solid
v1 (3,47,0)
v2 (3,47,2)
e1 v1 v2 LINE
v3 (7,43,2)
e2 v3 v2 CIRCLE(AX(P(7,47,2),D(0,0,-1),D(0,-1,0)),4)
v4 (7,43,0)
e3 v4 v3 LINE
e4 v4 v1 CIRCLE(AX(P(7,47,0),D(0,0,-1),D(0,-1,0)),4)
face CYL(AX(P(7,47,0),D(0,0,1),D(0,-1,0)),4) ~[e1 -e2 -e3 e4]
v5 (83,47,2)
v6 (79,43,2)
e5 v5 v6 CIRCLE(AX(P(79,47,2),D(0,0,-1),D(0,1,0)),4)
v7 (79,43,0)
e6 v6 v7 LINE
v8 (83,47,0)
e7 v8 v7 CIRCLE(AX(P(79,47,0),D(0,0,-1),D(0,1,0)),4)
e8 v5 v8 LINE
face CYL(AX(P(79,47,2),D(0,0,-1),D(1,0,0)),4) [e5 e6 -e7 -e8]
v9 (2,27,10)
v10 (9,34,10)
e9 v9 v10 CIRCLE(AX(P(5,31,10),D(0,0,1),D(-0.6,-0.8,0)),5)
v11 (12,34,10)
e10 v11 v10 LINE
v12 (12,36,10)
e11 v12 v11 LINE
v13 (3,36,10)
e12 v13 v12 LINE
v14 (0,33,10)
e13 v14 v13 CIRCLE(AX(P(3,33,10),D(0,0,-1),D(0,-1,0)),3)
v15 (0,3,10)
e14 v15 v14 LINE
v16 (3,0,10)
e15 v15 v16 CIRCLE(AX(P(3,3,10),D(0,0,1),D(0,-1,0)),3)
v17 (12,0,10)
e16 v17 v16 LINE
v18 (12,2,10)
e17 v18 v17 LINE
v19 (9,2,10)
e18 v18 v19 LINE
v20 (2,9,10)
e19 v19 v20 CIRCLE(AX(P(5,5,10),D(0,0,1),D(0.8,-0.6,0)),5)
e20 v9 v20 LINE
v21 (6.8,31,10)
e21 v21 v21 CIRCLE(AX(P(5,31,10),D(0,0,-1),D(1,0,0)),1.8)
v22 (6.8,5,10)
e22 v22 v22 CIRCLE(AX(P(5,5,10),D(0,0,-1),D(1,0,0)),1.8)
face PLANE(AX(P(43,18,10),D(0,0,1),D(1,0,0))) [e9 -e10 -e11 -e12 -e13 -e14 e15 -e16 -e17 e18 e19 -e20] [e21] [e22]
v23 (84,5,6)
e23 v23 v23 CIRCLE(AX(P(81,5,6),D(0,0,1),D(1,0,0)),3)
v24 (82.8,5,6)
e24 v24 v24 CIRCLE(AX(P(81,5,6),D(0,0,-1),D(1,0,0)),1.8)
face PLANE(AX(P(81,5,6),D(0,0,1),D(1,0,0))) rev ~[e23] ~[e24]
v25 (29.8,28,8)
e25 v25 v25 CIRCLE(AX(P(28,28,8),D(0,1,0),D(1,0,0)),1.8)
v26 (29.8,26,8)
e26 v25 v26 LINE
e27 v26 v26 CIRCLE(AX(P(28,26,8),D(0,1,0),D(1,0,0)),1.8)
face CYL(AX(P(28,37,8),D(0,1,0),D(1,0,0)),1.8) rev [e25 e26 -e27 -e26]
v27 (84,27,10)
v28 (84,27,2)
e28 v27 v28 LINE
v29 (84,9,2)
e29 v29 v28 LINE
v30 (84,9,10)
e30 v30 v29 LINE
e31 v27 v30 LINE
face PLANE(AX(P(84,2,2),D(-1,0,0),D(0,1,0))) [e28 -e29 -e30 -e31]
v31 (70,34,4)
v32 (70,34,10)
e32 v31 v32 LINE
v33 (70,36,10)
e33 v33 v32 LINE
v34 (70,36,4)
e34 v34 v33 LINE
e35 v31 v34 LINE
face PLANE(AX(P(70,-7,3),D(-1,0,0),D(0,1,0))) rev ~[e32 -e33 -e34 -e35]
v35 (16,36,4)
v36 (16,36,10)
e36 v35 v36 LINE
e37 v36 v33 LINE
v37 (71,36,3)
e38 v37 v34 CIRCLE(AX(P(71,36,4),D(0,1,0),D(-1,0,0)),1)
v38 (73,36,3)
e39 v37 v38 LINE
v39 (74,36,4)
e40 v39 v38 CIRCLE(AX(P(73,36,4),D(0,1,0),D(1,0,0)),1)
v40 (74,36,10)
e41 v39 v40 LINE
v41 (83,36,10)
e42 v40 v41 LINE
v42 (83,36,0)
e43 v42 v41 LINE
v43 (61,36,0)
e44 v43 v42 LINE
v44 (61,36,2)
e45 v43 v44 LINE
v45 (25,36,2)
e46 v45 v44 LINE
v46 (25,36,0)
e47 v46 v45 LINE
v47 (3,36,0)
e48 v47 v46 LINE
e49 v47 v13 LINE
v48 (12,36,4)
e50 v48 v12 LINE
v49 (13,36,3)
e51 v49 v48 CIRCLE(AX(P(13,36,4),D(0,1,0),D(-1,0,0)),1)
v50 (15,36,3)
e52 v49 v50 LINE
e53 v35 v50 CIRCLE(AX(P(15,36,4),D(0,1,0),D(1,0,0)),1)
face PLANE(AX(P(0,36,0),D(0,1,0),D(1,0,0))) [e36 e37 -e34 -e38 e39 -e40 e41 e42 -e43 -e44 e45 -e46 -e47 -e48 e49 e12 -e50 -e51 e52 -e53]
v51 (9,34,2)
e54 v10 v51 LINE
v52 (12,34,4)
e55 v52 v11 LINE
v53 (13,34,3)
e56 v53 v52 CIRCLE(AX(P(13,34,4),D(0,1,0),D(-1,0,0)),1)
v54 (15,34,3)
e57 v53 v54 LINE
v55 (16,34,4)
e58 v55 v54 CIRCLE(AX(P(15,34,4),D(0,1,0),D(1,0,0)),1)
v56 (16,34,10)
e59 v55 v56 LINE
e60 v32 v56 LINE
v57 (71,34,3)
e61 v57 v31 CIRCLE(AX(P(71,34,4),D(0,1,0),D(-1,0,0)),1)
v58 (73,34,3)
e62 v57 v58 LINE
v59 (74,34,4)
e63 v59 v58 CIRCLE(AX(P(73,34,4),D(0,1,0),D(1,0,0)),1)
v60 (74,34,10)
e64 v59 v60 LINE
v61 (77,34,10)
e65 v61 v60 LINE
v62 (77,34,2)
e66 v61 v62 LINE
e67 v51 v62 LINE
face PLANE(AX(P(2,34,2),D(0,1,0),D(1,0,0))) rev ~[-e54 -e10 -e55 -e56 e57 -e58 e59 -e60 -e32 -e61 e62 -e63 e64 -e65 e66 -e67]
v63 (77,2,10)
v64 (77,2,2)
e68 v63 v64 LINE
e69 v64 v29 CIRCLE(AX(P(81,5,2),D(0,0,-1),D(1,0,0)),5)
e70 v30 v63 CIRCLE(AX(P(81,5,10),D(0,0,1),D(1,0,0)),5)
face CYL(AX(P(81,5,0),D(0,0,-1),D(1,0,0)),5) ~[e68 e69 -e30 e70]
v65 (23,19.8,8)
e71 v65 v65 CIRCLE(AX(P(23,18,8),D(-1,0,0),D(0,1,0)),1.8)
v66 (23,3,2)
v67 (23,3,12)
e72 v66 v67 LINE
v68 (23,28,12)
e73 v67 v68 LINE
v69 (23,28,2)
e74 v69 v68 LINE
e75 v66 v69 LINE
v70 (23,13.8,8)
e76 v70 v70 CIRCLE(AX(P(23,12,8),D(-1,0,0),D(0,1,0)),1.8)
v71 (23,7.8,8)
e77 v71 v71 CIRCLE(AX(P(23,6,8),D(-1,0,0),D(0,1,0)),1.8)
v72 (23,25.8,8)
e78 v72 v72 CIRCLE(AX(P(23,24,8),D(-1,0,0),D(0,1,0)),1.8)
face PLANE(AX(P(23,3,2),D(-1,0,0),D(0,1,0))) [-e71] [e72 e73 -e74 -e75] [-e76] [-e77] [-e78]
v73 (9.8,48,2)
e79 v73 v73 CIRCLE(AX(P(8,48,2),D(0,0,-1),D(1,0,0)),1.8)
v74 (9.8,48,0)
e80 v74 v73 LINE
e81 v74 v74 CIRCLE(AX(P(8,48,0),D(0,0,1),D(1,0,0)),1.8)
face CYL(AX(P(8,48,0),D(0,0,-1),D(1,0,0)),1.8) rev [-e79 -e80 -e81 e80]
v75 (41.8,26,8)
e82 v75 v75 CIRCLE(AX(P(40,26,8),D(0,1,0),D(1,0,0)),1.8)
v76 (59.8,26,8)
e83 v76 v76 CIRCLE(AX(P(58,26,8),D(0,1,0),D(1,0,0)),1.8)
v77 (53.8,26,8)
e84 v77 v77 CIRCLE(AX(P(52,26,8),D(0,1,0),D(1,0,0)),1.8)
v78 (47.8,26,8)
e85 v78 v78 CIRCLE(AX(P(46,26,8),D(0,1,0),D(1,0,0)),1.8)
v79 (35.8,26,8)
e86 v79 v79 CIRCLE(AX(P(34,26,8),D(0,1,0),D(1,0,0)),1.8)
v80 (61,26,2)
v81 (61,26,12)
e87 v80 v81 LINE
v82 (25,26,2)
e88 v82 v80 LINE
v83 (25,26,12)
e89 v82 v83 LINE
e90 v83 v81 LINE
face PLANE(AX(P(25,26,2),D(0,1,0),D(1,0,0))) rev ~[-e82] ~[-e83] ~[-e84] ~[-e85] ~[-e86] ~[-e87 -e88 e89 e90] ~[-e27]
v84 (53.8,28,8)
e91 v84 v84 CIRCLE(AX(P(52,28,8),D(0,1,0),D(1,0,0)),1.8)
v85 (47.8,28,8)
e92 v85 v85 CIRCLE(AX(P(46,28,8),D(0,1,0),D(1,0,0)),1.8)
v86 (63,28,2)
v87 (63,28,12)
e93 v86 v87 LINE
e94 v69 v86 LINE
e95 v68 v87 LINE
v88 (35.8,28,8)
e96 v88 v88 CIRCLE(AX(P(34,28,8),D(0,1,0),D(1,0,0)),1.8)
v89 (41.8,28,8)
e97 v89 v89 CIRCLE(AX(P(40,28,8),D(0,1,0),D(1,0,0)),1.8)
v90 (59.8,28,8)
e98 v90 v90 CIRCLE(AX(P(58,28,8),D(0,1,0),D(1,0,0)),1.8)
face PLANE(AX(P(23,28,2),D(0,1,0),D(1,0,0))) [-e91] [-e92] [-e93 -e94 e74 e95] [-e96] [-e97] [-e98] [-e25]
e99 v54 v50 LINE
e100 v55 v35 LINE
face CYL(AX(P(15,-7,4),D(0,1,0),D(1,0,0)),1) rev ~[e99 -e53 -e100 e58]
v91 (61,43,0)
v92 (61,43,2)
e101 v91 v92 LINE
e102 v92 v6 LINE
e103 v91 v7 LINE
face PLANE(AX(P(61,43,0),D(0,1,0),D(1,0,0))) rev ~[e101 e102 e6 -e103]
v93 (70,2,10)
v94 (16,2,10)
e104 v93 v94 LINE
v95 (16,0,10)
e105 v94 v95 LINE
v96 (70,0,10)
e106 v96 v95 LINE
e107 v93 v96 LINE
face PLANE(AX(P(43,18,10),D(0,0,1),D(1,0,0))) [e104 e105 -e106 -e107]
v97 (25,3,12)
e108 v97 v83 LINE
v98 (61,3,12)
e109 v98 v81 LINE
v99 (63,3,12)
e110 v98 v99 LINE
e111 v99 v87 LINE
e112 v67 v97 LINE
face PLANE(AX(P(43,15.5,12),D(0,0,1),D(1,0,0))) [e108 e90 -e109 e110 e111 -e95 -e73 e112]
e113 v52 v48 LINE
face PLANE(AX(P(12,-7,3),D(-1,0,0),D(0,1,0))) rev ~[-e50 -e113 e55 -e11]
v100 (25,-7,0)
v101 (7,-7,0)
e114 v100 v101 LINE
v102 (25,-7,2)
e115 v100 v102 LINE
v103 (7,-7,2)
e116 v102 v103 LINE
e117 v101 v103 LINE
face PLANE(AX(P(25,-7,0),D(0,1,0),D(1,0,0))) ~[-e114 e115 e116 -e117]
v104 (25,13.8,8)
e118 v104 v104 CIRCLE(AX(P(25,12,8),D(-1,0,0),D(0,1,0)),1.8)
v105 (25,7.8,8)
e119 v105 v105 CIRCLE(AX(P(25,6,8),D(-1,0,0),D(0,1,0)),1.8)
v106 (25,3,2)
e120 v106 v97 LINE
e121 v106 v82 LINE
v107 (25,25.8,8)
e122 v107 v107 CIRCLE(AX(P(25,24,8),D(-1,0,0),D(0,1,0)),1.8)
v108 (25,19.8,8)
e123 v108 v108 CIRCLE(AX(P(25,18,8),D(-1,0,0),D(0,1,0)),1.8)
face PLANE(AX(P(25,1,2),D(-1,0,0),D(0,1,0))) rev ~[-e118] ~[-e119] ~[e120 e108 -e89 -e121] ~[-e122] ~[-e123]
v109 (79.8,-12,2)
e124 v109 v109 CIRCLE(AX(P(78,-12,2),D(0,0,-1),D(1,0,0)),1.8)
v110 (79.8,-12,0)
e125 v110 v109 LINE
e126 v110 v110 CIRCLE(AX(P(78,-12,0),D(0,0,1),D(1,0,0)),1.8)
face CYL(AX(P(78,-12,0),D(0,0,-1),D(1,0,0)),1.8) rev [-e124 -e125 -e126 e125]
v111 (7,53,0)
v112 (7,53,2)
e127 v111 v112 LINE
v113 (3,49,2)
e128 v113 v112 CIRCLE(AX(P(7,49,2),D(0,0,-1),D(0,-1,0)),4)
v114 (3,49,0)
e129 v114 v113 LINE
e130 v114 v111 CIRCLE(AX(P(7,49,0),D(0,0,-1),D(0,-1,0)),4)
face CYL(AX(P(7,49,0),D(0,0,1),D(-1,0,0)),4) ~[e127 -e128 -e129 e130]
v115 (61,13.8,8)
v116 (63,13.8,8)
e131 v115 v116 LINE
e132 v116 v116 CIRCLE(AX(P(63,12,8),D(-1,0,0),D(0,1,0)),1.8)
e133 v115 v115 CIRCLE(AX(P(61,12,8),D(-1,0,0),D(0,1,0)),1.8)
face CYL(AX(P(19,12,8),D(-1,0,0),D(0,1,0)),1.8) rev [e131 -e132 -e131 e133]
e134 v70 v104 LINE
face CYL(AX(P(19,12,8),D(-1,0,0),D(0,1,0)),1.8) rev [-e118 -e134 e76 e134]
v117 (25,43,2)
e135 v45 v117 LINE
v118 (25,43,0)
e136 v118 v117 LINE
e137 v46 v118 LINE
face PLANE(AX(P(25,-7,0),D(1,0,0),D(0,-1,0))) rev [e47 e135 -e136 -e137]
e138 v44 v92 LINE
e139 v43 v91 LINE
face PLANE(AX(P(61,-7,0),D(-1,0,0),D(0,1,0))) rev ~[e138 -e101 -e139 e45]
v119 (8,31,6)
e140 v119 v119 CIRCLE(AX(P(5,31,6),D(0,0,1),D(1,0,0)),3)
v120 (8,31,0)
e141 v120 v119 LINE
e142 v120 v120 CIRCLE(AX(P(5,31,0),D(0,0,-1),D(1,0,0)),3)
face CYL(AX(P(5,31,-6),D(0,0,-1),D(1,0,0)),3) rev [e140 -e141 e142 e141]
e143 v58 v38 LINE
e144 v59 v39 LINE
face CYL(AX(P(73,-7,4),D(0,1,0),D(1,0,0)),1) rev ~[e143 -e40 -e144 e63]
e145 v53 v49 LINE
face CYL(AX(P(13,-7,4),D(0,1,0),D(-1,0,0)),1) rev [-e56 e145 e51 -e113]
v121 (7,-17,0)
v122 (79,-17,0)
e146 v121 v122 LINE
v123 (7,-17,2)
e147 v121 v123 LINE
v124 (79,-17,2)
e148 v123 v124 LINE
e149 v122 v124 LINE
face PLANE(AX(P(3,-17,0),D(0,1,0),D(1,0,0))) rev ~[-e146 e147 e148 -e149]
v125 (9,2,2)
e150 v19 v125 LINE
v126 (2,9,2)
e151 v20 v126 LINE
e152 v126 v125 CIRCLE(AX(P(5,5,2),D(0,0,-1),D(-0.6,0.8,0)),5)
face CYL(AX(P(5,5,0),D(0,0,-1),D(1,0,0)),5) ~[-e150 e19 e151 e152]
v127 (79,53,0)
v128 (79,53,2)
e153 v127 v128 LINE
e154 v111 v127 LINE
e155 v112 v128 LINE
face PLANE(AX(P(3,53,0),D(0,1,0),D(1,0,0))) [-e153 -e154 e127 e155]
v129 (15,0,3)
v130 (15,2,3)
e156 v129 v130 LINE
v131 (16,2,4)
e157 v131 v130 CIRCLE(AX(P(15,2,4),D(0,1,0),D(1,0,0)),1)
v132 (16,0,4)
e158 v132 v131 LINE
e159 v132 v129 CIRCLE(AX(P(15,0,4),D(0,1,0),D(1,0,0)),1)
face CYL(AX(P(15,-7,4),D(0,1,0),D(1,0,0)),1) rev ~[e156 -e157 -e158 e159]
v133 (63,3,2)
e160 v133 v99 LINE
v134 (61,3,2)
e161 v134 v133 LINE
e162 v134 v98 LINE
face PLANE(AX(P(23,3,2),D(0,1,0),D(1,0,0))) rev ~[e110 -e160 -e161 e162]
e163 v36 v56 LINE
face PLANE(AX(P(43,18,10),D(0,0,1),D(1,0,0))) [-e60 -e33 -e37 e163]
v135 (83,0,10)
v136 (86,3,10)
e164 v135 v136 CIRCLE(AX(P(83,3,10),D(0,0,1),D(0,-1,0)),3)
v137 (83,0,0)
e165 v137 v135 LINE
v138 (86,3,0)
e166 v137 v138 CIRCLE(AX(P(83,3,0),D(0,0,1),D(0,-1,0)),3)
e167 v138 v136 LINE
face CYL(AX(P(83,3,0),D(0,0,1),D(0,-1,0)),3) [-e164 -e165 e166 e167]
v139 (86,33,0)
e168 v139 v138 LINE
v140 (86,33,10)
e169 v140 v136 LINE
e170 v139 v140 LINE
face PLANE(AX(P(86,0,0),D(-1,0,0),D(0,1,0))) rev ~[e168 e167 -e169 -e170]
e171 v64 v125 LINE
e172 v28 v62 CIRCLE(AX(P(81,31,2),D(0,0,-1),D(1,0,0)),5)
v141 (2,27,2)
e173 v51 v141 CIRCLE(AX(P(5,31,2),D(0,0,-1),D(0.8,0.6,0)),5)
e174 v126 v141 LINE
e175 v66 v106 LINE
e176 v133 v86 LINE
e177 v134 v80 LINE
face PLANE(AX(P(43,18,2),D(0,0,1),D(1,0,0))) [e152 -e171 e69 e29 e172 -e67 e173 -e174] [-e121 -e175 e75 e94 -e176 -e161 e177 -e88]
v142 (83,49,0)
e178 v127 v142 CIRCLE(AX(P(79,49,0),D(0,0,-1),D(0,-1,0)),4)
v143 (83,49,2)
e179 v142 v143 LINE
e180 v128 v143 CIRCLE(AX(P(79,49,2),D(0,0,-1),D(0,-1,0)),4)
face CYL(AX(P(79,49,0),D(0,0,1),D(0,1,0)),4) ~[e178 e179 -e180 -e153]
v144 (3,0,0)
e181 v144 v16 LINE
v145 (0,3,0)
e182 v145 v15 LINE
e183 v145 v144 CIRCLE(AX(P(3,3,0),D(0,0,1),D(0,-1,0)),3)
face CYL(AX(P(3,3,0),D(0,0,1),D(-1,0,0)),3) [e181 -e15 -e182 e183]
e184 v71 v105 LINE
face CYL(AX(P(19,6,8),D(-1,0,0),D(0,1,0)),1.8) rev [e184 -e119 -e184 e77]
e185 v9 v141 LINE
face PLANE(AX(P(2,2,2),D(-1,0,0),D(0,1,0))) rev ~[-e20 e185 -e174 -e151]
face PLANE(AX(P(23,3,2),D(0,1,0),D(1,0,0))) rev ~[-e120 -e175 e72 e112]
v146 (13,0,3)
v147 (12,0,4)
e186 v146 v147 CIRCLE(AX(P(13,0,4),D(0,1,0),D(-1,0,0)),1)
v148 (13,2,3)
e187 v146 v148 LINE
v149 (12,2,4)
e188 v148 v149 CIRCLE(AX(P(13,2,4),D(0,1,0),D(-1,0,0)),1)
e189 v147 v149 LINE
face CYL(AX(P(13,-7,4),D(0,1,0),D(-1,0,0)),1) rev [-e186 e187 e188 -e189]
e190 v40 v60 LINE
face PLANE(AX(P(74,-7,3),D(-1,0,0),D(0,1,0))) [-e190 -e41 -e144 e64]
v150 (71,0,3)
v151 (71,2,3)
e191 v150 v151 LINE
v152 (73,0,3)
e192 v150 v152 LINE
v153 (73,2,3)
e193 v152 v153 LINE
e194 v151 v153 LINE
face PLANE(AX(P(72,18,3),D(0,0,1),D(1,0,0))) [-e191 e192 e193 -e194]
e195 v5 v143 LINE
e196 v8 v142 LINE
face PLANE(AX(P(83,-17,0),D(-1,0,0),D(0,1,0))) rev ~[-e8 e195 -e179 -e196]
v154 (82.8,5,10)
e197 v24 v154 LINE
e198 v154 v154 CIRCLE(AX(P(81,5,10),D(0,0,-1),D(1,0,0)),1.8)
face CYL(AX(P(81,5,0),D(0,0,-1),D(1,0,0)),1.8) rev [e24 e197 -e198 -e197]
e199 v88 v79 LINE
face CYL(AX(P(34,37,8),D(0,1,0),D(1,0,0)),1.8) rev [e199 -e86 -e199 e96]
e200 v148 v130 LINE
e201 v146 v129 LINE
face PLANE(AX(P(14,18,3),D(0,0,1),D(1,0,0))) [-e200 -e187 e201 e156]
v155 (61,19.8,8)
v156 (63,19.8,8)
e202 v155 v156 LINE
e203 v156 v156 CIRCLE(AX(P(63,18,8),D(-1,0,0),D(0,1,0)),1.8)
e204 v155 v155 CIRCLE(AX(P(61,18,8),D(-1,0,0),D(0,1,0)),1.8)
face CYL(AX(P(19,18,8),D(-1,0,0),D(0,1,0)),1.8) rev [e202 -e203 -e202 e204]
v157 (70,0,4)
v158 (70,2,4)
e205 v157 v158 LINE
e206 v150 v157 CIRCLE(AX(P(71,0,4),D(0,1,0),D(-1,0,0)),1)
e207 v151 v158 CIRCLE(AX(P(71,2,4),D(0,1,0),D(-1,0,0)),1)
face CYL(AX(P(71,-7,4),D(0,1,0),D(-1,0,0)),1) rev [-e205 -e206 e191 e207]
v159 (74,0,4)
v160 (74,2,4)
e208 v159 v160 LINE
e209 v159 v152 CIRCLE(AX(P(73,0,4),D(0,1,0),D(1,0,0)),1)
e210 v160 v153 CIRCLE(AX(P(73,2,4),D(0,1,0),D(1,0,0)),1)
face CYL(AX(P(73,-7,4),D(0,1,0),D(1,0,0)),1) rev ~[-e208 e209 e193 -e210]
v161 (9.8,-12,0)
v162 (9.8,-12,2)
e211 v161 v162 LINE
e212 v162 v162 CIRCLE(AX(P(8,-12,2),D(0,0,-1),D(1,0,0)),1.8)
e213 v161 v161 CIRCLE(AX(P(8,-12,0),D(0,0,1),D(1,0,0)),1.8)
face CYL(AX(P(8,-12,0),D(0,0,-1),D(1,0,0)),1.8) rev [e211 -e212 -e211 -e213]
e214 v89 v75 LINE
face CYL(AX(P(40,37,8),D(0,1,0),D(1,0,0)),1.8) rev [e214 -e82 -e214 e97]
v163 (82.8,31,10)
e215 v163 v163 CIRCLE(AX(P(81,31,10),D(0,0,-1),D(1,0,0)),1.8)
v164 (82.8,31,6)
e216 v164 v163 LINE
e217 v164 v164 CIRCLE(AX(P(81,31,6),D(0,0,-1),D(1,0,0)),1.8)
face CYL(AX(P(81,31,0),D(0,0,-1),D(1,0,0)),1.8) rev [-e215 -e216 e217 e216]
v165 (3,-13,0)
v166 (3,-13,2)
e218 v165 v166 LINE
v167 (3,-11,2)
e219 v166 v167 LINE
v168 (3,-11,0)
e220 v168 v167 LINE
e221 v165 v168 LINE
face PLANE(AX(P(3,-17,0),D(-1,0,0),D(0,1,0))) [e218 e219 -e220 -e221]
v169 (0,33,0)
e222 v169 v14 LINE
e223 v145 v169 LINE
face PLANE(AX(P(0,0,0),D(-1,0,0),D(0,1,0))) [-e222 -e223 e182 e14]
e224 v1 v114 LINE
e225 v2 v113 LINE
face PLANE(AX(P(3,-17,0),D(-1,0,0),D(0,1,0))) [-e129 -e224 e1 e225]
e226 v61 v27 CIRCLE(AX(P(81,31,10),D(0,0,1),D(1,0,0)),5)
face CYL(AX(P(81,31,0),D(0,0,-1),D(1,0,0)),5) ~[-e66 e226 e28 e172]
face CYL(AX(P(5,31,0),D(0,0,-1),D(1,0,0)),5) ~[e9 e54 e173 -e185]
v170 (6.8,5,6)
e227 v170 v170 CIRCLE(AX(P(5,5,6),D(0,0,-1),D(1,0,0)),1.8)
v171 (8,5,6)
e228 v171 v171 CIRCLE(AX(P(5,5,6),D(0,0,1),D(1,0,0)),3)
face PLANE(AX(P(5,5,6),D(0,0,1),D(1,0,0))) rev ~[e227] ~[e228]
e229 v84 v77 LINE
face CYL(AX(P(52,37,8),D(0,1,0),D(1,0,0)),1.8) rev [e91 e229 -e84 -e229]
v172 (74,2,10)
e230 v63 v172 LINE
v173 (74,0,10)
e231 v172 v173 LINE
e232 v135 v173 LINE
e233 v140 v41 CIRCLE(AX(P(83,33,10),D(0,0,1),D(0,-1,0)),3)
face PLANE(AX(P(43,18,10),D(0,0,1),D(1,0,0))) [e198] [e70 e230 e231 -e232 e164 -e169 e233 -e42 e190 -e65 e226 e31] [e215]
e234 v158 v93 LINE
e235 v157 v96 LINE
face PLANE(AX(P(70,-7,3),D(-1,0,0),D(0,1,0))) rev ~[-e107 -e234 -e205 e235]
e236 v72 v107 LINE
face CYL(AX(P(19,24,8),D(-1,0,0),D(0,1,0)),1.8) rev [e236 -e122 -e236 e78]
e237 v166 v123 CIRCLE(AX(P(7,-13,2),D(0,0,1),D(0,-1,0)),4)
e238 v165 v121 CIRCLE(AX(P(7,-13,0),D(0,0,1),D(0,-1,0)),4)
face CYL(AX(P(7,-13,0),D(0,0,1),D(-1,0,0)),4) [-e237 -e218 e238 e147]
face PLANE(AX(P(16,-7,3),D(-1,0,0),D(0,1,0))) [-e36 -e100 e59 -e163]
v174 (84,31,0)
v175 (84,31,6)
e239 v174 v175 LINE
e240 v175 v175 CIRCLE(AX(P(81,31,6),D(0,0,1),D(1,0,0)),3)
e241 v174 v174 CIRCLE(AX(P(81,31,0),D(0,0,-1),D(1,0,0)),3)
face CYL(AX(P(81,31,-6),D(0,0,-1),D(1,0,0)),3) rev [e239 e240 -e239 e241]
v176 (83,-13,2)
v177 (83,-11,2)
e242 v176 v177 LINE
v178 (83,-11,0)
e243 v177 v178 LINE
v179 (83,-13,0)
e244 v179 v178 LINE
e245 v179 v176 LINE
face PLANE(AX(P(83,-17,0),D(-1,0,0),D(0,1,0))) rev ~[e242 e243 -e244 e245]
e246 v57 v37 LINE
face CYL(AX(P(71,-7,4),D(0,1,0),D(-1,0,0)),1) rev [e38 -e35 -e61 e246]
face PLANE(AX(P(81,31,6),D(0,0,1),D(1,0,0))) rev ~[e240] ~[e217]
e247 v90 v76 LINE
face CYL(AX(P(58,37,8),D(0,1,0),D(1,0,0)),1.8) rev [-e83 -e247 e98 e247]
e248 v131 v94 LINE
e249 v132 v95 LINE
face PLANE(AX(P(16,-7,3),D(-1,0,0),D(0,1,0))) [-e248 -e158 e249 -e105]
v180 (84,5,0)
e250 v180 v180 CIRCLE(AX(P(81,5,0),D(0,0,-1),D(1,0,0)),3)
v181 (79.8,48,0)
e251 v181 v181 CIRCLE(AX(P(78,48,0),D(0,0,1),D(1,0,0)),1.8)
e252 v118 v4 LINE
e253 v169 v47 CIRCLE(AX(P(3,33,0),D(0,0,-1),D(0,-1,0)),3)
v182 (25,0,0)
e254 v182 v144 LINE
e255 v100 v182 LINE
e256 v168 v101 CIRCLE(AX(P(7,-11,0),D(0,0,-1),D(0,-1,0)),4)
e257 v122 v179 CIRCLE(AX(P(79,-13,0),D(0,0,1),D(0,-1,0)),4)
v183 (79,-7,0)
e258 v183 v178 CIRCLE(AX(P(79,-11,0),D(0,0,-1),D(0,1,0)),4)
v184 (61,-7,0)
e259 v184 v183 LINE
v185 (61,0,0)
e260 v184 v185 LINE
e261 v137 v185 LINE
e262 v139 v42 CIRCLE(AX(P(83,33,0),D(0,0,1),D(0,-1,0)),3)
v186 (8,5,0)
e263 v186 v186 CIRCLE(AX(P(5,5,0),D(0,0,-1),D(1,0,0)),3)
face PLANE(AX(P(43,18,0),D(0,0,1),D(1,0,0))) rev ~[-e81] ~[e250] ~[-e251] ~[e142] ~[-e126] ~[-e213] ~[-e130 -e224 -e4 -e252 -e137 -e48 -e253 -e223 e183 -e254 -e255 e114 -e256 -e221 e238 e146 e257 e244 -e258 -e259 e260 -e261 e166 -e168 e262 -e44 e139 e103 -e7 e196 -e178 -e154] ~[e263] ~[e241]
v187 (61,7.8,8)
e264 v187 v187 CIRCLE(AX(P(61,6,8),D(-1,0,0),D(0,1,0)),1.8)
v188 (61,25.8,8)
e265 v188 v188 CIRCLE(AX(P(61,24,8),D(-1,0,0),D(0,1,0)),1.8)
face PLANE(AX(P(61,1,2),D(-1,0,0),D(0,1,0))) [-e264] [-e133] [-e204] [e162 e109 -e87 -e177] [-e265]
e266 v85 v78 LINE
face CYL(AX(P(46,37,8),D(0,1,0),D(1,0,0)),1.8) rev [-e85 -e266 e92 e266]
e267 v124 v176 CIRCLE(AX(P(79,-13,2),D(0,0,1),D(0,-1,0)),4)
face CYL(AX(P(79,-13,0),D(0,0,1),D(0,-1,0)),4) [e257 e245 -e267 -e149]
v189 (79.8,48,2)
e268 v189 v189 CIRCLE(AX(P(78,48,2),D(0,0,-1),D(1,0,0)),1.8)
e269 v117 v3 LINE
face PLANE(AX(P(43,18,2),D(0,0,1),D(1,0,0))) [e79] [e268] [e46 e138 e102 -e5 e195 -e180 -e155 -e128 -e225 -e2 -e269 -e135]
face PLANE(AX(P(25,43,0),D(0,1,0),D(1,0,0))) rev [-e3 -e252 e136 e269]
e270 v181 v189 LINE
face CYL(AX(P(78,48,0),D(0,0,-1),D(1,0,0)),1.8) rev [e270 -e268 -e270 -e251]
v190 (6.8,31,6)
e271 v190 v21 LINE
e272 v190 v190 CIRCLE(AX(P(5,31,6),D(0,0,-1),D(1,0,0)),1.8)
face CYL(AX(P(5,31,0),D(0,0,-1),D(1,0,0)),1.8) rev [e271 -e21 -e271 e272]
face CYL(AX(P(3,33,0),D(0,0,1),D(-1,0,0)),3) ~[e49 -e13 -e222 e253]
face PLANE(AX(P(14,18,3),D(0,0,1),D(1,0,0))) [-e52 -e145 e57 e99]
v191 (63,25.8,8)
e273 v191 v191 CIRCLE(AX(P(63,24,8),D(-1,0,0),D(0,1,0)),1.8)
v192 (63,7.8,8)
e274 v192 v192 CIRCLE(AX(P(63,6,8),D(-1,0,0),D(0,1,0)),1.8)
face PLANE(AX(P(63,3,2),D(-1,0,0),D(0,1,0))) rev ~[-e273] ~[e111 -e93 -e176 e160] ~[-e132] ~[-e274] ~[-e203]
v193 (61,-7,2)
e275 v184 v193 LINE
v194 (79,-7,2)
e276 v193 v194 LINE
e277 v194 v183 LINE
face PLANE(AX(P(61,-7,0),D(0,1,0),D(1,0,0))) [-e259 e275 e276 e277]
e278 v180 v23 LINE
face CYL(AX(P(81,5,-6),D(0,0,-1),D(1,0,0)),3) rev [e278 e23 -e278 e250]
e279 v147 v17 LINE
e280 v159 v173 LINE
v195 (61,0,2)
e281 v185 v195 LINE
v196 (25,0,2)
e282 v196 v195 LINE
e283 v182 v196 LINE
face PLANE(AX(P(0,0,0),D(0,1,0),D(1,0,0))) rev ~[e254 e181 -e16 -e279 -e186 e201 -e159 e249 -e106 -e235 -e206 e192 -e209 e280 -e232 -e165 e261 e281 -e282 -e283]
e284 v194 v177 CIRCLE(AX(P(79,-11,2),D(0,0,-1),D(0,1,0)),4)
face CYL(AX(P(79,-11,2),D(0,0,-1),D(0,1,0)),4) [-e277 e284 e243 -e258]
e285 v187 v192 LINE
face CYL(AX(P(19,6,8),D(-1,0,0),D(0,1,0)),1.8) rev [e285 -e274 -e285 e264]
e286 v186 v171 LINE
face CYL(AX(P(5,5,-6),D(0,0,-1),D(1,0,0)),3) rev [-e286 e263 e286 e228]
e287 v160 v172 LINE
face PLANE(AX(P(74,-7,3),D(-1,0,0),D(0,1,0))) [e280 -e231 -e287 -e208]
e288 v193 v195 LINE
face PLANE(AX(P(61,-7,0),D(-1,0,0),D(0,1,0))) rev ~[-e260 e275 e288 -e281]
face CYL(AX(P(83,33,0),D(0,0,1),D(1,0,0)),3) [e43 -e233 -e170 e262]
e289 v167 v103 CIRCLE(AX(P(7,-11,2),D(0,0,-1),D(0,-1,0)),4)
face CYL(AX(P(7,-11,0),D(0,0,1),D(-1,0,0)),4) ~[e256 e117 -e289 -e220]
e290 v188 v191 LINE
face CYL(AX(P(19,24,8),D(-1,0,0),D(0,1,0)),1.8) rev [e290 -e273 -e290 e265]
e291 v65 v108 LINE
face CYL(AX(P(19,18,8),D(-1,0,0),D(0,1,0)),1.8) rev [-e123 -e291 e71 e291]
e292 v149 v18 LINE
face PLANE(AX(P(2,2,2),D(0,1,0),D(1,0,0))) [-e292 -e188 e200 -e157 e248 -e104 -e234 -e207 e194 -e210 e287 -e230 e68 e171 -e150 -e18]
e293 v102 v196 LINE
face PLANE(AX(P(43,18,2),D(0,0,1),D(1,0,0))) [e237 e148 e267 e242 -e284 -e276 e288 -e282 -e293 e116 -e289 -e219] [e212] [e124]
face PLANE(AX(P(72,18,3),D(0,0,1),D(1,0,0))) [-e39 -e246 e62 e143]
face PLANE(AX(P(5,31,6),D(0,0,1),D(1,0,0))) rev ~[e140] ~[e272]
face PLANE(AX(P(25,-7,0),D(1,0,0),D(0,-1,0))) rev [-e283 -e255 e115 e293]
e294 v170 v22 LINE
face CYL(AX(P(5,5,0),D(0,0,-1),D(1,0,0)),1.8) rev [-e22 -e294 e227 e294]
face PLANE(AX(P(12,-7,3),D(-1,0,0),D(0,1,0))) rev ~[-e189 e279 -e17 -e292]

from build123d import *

# Parameters (mm, degrees)
CYLINDER062_R       = 1.8
CYLINDER062_DEPTH   = 12
ARRAY001032_X_COUNT = 2
ARRAY001032_X_PITCH = 76
ARRAY001032_Y_COUNT = 2
ARRAY001032_Y_PITCH = 26
BOX036_W            = 4
BOX036_H            = 50
BOX036_DEPTH        = 10
FILLET018_R         = 1
ARRAY001038_X_COUNT = 2
ARRAY001038_X_PITCH = 58
CYLINDER064_R       = 3
CYLINDER064_DEPTH   = 12
ARRAY001034_X_COUNT = 2
ARRAY001034_X_PITCH = 76
ARRAY001034_Y_COUNT = 2
ARRAY001034_Y_PITCH = 26
CYLINDER063_R       = 5
CYLINDER063_DEPTH   = 10
ARRAY001033_X_COUNT = 2
ARRAY001033_X_PITCH = 76
ARRAY001033_Y_COUNT = 2
ARRAY001033_Y_PITCH = 26
CYLINDER066_R       = 1.8
CYLINDER066_DEPTH   = 50
ARRAY001036_Y_COUNT = 4
ARRAY001036_Y_PITCH = 6
BOX033_W            = 36
BOX033_H            = 25
BOX033_DEPTH        = 10
CYLINDER065_R       = 1.8
CYLINDER065_DEPTH   = 20
ARRAY001035_X_COUNT = 6
ARRAY001035_X_PITCH = 6
BOX032_W            = 40
BOX032_H            = 25
BOX032_DEPTH        = 10
BOX035_W            = 30
BOX035_H            = 50
BOX035_DEPTH        = 2
CYLINDER067_R       = 1.8
CYLINDER067_DEPTH   = 10
ARRAY001037_X_COUNT = 2
ARRAY001037_X_PITCH = 70
ARRAY001037_Y_COUNT = 2
ARRAY001037_Y_PITCH = 60
BOX034_W            = 80
BOX034_H            = 70
BOX034_DEPTH        = 2
FILLET017_R         = 4
BOX031_W            = 82
BOX031_H            = 32
BOX031_DEPTH        = 10
FILLET016_R         = 3
BOX029_W            = 86
BOX029_H            = 36
BOX029_DEPTH        = 10
FILLET015_R         = 3


with BuildPart() as msub_bolt_hole_array002:
    # Cylinder062 → Cylinder062 (new body)
    with BuildSketch(Plane(origin=(5, 5, 0), x_dir=(1, 0, 0), z_dir=(0, 0, 1))):
        Circle(CYLINDER062_R)
    extrude(amount=CYLINDER062_DEPTH)

    # Array001032 X: msub bolt hole array002 ×2


with BuildPart() as msub_bolt_hole_array002_1:
    add(msub_bolt_hole_array002.part)
    with Locations(*[(i * ARRAY001032_X_PITCH, 0, 0) for i in range(1, ARRAY001032_X_COUNT)]):
        add(msub_bolt_hole_array002.part)

    # Array001032 Y: msub bolt hole array002 ×2


with BuildPart() as msub_bolt_hole_array002_2:
    add(msub_bolt_hole_array002_1.part)
    with Locations(*[(0, i * ARRAY001032_Y_PITCH, 0) for i in range(1, ARRAY001032_Y_COUNT)]):
        add(msub_bolt_hole_array002_1.part)


with BuildPart() as wire_hole_array:
    # Box036 → Box036 (new body)
    with BuildSketch(Plane(origin=(12, -7, 3), x_dir=(1, 0, 0), z_dir=(0, 0, 1))):
        with Locations((2, 25)):
            Rectangle(BOX036_W, BOX036_H)
    extrude(amount=BOX036_DEPTH)

    # Fillet018
    fillet018_edges = [wire_hole_array.edges().sort_by_distance(p)[0] for p in [
        (12, 18, 13),
        (12, 18, 3),
        (16, 18, 13),
        (16, 18, 3),
    ]]
    fillet(fillet018_edges, radius=FILLET018_R)

    # Array001038 X: wire hole array ×2


with BuildPart() as wire_hole_array_1:
    add(wire_hole_array.part)
    with Locations(*[(i * ARRAY001038_X_PITCH, 0, 0) for i in range(1, ARRAY001038_X_COUNT)]):
        add(wire_hole_array.part)


with BuildPart() as msub_bottom_bolt_hole_fusion:
    # Cylinder064 → Cylinder064 (new body)
    with BuildSketch(Plane(origin=(5, 5, -6), x_dir=(1, 0, 0), z_dir=(0, 0, 1))):
        Circle(CYLINDER064_R)
    extrude(amount=CYLINDER064_DEPTH)

    # Array001034 X: msub bottom bolt hole fusion ×2


with BuildPart() as msub_bottom_bolt_hole_fusion_1:
    add(msub_bottom_bolt_hole_fusion.part)
    with Locations(*[(i * ARRAY001034_X_PITCH, 0, 0) for i in range(1, ARRAY001034_X_COUNT)]):
        add(msub_bottom_bolt_hole_fusion.part)

    # Array001034 Y: msub bottom bolt hole fusion ×2


with BuildPart() as msub_bottom_bolt_hole_fusion_2:
    add(msub_bottom_bolt_hole_fusion_1.part)
    with Locations(*[(0, i * ARRAY001034_Y_PITCH, 0) for i in range(1, ARRAY001034_Y_COUNT)]):
        add(msub_bottom_bolt_hole_fusion_1.part)

    # Fusion043: union msub bolt hole array002, wire hole array
    add(msub_bolt_hole_array002_2.part)
    add(wire_hole_array_1.part)


with BuildPart() as msub_bolt_cylinder_array001:
    # Cylinder063 → Cylinder063 (new body)
    with BuildSketch(Plane(origin=(5, 5, 0), x_dir=(1, 0, 0), z_dir=(0, 0, 1))):
        Circle(CYLINDER063_R)
    extrude(amount=CYLINDER063_DEPTH)

    # Array001033 X: msub bolt cylinder array001 ×2


with BuildPart() as msub_bolt_cylinder_array001_1:
    add(msub_bolt_cylinder_array001.part)
    with Locations(*[(i * ARRAY001033_X_PITCH, 0, 0) for i in range(1, ARRAY001033_X_COUNT)]):
        add(msub_bolt_cylinder_array001.part)

    # Array001033 Y: msub bolt cylinder array001 ×2


with BuildPart() as msub_bolt_cylinder_array001_2:
    add(msub_bolt_cylinder_array001_1.part)
    with Locations(*[(0, i * ARRAY001033_Y_PITCH, 0) for i in range(1, ARRAY001033_Y_COUNT)]):
        add(msub_bolt_cylinder_array001_1.part)


with BuildPart() as led_hole_array001:
    # Cylinder066 → Cylinder066 (new body)
    with BuildSketch(Plane(origin=(19, 6, 6), x_dir=(0, 1, 0), z_dir=(1, 0, 0))):
        Circle(CYLINDER066_R)
    extrude(amount=CYLINDER066_DEPTH)

    # Array001036 Y: led hole array001 ×4


with BuildPart() as led_hole_array001_1:
    add(led_hole_array001.part)
    with Locations(*[(0, i * ARRAY001036_Y_PITCH, 0) for i in range(1, ARRAY001036_Y_COUNT)]):
        add(led_hole_array001.part)


with BuildPart() as led_wall_extraction:
    # Box033 → Box033 (new body)
    with BuildSketch(Plane(origin=(25, 1, 0), x_dir=(1, 0, 0), z_dir=(0, 0, 1))):
        with Locations((18, 12.5)):
            Rectangle(BOX033_W, BOX033_H)
    extrude(amount=BOX033_DEPTH)


with BuildPart() as led_hole_fusion:
    # Cylinder065 → Cylinder065 (new body)
    with BuildSketch(Plane(origin=(28, 37, 6), x_dir=(1, 0, 0), z_dir=(0, -1, 0))):
        Circle(CYLINDER065_R)
    extrude(amount=CYLINDER065_DEPTH)

    # Array001035 X: led hole fusion ×6


with BuildPart() as led_hole_fusion_1:
    add(led_hole_fusion.part)
    with Locations(*[(i * ARRAY001035_X_PITCH, 0, 0) for i in range(1, ARRAY001035_X_COUNT)]):
        add(led_hole_fusion.part)

    # Fusion044: union led hole array001, led wall extraction
    add(led_hole_array001_1.part)
    add(led_wall_extraction.part)


with BuildPart() as led_wall_cut:
    # Box032 → Box032 (new body)
    with BuildSketch(Plane(origin=(23, 3, 0), x_dir=(1, 0, 0), z_dir=(0, 0, 1))):
        with Locations((20, 12.5)):
            Rectangle(BOX032_W, BOX032_H)
    extrude(amount=BOX032_DEPTH)

    # Cut023008: cut led hole fusion
    add(led_hole_fusion_1.part, mode=Mode.SUBTRACT)


with BuildPart() as led_wall_cut_1:
    # Cut023008 placement: moved
    add(led_wall_cut.part.moved(Location((0, 0, 2))))


with BuildPart() as cube:
    # Box035 → Box035 (new body)
    with BuildSketch(Plane(origin=(58, 10, 0), x_dir=(1, 0, 0), z_dir=(0, 0, 1))):
        with Locations((15, 25)):
            Rectangle(BOX035_W, BOX035_H)
    extrude(amount=BOX035_DEPTH)


with BuildPart() as bottom_outer_hole_array:
    # Cylinder067 → Cylinder067 (new body)
    with BuildSketch(Plane(origin=(5, 5, 0), x_dir=(1, 0, 0), z_dir=(0, 0, 1))):
        Circle(CYLINDER067_R)
    extrude(amount=CYLINDER067_DEPTH)

    # Array001037 X: bottom outer hole array ×2


with BuildPart() as bottom_outer_hole_array_1:
    add(bottom_outer_hole_array.part)
    with Locations(*[(i * ARRAY001037_X_PITCH, 0, 0) for i in range(1, ARRAY001037_X_COUNT)]):
        add(bottom_outer_hole_array.part)

    # Array001037 Y: bottom outer hole array ×2


with BuildPart() as bottom_outer_hole_array_2:
    add(bottom_outer_hole_array_1.part)
    with Locations(*[(0, i * ARRAY001037_Y_PITCH, 0) for i in range(1, ARRAY001037_Y_COUNT)]):
        add(bottom_outer_hole_array_1.part)


with BuildPart() as bottom_outer_extraction_fusion:
    # Part__Mirroring001: instance of Cube
    add(cube.part.mirror(Plane(origin=(40, 0, 0), x_dir=(0, -1, 0), z_dir=(1, 0, 0))))

    # Fusion045: union Cube, bottom outer hole array
    add(cube.part)
    add(bottom_outer_hole_array_2.part)


with BuildPart() as bottom_outer_plate_fillet:
    # Box034 → Box034 (new body)
    with BuildSketch(Plane.XY):
        with Locations((40, 35)):
            Rectangle(BOX034_W, BOX034_H)
    extrude(amount=BOX034_DEPTH)

    # Cut023009: cut bottom outer extraction fusion
    add(bottom_outer_extraction_fusion.part, mode=Mode.SUBTRACT)


with BuildPart() as bottom_outer_plate_fillet_1:
    # Cut023009 placement: moved
    add(bottom_outer_plate_fillet.part.moved(Location((3, -17, 0))))

    # Fillet017
    fillet017_edges = [bottom_outer_plate_fillet_1.edges().sort_by_distance(p)[0] for p in [
        (3, -7, 1),
        (3, -17, 1),
        (83, -17, 1),
        (3, 43, 1),
        (3, 53, 1),
        (83, 53, 1),
        (83, 43, 1),
        (83, -7, 1),
    ]]
    fillet(fillet017_edges, radius=FILLET017_R)


with BuildPart() as msub_top_fillet002:
    # Box031 → Box031 (new body)
    with BuildSketch(Plane(origin=(2, 2, 2), x_dir=(1, 0, 0), z_dir=(0, 0, 1))):
        with Locations((41, 16)):
            Rectangle(BOX031_W, BOX031_H)
    extrude(amount=BOX031_DEPTH)

    # Fillet016
    fillet016_edges = [msub_top_fillet002.edges().sort_by_distance(p)[0] for p in [
        (2, 2, 7),
        (2, 34, 7),
        (84, 2, 7),
        (84, 34, 7),
    ]]
    fillet(fillet016_edges, radius=FILLET016_R)


with BuildPart() as msub_bottom_cut:
    # Box029 → Box029 (new body)
    with BuildSketch(Plane.XY):
        with Locations((43, 18)):
            Rectangle(BOX029_W, BOX029_H)
    extrude(amount=BOX029_DEPTH)

    # Fillet015
    fillet015_edges = [msub_bottom_cut.edges().sort_by_distance(p)[0] for p in [
        (0, 0, 5),
        (0, 36, 5),
        (86, 0, 5),
        (86, 36, 5),
    ]]
    fillet(fillet015_edges, radius=FILLET015_R)

    # Cut023006: cut msub top fillet002
    add(msub_top_fillet002.part, mode=Mode.SUBTRACT)

    # Fusion042: union msub bolt cylinder array001, led wall cut, bottom outer plate fillet
    add(msub_bolt_cylinder_array001_2.part)
    add(led_wall_cut_1.part)
    add(bottom_outer_plate_fillet_1.part)

    # Cut023007: cut msub bottom bolt hole fusion
    add(msub_bottom_bolt_hole_fusion_2.part, mode=Mode.SUBTRACT)


solid = msub_bottom_cut.part
